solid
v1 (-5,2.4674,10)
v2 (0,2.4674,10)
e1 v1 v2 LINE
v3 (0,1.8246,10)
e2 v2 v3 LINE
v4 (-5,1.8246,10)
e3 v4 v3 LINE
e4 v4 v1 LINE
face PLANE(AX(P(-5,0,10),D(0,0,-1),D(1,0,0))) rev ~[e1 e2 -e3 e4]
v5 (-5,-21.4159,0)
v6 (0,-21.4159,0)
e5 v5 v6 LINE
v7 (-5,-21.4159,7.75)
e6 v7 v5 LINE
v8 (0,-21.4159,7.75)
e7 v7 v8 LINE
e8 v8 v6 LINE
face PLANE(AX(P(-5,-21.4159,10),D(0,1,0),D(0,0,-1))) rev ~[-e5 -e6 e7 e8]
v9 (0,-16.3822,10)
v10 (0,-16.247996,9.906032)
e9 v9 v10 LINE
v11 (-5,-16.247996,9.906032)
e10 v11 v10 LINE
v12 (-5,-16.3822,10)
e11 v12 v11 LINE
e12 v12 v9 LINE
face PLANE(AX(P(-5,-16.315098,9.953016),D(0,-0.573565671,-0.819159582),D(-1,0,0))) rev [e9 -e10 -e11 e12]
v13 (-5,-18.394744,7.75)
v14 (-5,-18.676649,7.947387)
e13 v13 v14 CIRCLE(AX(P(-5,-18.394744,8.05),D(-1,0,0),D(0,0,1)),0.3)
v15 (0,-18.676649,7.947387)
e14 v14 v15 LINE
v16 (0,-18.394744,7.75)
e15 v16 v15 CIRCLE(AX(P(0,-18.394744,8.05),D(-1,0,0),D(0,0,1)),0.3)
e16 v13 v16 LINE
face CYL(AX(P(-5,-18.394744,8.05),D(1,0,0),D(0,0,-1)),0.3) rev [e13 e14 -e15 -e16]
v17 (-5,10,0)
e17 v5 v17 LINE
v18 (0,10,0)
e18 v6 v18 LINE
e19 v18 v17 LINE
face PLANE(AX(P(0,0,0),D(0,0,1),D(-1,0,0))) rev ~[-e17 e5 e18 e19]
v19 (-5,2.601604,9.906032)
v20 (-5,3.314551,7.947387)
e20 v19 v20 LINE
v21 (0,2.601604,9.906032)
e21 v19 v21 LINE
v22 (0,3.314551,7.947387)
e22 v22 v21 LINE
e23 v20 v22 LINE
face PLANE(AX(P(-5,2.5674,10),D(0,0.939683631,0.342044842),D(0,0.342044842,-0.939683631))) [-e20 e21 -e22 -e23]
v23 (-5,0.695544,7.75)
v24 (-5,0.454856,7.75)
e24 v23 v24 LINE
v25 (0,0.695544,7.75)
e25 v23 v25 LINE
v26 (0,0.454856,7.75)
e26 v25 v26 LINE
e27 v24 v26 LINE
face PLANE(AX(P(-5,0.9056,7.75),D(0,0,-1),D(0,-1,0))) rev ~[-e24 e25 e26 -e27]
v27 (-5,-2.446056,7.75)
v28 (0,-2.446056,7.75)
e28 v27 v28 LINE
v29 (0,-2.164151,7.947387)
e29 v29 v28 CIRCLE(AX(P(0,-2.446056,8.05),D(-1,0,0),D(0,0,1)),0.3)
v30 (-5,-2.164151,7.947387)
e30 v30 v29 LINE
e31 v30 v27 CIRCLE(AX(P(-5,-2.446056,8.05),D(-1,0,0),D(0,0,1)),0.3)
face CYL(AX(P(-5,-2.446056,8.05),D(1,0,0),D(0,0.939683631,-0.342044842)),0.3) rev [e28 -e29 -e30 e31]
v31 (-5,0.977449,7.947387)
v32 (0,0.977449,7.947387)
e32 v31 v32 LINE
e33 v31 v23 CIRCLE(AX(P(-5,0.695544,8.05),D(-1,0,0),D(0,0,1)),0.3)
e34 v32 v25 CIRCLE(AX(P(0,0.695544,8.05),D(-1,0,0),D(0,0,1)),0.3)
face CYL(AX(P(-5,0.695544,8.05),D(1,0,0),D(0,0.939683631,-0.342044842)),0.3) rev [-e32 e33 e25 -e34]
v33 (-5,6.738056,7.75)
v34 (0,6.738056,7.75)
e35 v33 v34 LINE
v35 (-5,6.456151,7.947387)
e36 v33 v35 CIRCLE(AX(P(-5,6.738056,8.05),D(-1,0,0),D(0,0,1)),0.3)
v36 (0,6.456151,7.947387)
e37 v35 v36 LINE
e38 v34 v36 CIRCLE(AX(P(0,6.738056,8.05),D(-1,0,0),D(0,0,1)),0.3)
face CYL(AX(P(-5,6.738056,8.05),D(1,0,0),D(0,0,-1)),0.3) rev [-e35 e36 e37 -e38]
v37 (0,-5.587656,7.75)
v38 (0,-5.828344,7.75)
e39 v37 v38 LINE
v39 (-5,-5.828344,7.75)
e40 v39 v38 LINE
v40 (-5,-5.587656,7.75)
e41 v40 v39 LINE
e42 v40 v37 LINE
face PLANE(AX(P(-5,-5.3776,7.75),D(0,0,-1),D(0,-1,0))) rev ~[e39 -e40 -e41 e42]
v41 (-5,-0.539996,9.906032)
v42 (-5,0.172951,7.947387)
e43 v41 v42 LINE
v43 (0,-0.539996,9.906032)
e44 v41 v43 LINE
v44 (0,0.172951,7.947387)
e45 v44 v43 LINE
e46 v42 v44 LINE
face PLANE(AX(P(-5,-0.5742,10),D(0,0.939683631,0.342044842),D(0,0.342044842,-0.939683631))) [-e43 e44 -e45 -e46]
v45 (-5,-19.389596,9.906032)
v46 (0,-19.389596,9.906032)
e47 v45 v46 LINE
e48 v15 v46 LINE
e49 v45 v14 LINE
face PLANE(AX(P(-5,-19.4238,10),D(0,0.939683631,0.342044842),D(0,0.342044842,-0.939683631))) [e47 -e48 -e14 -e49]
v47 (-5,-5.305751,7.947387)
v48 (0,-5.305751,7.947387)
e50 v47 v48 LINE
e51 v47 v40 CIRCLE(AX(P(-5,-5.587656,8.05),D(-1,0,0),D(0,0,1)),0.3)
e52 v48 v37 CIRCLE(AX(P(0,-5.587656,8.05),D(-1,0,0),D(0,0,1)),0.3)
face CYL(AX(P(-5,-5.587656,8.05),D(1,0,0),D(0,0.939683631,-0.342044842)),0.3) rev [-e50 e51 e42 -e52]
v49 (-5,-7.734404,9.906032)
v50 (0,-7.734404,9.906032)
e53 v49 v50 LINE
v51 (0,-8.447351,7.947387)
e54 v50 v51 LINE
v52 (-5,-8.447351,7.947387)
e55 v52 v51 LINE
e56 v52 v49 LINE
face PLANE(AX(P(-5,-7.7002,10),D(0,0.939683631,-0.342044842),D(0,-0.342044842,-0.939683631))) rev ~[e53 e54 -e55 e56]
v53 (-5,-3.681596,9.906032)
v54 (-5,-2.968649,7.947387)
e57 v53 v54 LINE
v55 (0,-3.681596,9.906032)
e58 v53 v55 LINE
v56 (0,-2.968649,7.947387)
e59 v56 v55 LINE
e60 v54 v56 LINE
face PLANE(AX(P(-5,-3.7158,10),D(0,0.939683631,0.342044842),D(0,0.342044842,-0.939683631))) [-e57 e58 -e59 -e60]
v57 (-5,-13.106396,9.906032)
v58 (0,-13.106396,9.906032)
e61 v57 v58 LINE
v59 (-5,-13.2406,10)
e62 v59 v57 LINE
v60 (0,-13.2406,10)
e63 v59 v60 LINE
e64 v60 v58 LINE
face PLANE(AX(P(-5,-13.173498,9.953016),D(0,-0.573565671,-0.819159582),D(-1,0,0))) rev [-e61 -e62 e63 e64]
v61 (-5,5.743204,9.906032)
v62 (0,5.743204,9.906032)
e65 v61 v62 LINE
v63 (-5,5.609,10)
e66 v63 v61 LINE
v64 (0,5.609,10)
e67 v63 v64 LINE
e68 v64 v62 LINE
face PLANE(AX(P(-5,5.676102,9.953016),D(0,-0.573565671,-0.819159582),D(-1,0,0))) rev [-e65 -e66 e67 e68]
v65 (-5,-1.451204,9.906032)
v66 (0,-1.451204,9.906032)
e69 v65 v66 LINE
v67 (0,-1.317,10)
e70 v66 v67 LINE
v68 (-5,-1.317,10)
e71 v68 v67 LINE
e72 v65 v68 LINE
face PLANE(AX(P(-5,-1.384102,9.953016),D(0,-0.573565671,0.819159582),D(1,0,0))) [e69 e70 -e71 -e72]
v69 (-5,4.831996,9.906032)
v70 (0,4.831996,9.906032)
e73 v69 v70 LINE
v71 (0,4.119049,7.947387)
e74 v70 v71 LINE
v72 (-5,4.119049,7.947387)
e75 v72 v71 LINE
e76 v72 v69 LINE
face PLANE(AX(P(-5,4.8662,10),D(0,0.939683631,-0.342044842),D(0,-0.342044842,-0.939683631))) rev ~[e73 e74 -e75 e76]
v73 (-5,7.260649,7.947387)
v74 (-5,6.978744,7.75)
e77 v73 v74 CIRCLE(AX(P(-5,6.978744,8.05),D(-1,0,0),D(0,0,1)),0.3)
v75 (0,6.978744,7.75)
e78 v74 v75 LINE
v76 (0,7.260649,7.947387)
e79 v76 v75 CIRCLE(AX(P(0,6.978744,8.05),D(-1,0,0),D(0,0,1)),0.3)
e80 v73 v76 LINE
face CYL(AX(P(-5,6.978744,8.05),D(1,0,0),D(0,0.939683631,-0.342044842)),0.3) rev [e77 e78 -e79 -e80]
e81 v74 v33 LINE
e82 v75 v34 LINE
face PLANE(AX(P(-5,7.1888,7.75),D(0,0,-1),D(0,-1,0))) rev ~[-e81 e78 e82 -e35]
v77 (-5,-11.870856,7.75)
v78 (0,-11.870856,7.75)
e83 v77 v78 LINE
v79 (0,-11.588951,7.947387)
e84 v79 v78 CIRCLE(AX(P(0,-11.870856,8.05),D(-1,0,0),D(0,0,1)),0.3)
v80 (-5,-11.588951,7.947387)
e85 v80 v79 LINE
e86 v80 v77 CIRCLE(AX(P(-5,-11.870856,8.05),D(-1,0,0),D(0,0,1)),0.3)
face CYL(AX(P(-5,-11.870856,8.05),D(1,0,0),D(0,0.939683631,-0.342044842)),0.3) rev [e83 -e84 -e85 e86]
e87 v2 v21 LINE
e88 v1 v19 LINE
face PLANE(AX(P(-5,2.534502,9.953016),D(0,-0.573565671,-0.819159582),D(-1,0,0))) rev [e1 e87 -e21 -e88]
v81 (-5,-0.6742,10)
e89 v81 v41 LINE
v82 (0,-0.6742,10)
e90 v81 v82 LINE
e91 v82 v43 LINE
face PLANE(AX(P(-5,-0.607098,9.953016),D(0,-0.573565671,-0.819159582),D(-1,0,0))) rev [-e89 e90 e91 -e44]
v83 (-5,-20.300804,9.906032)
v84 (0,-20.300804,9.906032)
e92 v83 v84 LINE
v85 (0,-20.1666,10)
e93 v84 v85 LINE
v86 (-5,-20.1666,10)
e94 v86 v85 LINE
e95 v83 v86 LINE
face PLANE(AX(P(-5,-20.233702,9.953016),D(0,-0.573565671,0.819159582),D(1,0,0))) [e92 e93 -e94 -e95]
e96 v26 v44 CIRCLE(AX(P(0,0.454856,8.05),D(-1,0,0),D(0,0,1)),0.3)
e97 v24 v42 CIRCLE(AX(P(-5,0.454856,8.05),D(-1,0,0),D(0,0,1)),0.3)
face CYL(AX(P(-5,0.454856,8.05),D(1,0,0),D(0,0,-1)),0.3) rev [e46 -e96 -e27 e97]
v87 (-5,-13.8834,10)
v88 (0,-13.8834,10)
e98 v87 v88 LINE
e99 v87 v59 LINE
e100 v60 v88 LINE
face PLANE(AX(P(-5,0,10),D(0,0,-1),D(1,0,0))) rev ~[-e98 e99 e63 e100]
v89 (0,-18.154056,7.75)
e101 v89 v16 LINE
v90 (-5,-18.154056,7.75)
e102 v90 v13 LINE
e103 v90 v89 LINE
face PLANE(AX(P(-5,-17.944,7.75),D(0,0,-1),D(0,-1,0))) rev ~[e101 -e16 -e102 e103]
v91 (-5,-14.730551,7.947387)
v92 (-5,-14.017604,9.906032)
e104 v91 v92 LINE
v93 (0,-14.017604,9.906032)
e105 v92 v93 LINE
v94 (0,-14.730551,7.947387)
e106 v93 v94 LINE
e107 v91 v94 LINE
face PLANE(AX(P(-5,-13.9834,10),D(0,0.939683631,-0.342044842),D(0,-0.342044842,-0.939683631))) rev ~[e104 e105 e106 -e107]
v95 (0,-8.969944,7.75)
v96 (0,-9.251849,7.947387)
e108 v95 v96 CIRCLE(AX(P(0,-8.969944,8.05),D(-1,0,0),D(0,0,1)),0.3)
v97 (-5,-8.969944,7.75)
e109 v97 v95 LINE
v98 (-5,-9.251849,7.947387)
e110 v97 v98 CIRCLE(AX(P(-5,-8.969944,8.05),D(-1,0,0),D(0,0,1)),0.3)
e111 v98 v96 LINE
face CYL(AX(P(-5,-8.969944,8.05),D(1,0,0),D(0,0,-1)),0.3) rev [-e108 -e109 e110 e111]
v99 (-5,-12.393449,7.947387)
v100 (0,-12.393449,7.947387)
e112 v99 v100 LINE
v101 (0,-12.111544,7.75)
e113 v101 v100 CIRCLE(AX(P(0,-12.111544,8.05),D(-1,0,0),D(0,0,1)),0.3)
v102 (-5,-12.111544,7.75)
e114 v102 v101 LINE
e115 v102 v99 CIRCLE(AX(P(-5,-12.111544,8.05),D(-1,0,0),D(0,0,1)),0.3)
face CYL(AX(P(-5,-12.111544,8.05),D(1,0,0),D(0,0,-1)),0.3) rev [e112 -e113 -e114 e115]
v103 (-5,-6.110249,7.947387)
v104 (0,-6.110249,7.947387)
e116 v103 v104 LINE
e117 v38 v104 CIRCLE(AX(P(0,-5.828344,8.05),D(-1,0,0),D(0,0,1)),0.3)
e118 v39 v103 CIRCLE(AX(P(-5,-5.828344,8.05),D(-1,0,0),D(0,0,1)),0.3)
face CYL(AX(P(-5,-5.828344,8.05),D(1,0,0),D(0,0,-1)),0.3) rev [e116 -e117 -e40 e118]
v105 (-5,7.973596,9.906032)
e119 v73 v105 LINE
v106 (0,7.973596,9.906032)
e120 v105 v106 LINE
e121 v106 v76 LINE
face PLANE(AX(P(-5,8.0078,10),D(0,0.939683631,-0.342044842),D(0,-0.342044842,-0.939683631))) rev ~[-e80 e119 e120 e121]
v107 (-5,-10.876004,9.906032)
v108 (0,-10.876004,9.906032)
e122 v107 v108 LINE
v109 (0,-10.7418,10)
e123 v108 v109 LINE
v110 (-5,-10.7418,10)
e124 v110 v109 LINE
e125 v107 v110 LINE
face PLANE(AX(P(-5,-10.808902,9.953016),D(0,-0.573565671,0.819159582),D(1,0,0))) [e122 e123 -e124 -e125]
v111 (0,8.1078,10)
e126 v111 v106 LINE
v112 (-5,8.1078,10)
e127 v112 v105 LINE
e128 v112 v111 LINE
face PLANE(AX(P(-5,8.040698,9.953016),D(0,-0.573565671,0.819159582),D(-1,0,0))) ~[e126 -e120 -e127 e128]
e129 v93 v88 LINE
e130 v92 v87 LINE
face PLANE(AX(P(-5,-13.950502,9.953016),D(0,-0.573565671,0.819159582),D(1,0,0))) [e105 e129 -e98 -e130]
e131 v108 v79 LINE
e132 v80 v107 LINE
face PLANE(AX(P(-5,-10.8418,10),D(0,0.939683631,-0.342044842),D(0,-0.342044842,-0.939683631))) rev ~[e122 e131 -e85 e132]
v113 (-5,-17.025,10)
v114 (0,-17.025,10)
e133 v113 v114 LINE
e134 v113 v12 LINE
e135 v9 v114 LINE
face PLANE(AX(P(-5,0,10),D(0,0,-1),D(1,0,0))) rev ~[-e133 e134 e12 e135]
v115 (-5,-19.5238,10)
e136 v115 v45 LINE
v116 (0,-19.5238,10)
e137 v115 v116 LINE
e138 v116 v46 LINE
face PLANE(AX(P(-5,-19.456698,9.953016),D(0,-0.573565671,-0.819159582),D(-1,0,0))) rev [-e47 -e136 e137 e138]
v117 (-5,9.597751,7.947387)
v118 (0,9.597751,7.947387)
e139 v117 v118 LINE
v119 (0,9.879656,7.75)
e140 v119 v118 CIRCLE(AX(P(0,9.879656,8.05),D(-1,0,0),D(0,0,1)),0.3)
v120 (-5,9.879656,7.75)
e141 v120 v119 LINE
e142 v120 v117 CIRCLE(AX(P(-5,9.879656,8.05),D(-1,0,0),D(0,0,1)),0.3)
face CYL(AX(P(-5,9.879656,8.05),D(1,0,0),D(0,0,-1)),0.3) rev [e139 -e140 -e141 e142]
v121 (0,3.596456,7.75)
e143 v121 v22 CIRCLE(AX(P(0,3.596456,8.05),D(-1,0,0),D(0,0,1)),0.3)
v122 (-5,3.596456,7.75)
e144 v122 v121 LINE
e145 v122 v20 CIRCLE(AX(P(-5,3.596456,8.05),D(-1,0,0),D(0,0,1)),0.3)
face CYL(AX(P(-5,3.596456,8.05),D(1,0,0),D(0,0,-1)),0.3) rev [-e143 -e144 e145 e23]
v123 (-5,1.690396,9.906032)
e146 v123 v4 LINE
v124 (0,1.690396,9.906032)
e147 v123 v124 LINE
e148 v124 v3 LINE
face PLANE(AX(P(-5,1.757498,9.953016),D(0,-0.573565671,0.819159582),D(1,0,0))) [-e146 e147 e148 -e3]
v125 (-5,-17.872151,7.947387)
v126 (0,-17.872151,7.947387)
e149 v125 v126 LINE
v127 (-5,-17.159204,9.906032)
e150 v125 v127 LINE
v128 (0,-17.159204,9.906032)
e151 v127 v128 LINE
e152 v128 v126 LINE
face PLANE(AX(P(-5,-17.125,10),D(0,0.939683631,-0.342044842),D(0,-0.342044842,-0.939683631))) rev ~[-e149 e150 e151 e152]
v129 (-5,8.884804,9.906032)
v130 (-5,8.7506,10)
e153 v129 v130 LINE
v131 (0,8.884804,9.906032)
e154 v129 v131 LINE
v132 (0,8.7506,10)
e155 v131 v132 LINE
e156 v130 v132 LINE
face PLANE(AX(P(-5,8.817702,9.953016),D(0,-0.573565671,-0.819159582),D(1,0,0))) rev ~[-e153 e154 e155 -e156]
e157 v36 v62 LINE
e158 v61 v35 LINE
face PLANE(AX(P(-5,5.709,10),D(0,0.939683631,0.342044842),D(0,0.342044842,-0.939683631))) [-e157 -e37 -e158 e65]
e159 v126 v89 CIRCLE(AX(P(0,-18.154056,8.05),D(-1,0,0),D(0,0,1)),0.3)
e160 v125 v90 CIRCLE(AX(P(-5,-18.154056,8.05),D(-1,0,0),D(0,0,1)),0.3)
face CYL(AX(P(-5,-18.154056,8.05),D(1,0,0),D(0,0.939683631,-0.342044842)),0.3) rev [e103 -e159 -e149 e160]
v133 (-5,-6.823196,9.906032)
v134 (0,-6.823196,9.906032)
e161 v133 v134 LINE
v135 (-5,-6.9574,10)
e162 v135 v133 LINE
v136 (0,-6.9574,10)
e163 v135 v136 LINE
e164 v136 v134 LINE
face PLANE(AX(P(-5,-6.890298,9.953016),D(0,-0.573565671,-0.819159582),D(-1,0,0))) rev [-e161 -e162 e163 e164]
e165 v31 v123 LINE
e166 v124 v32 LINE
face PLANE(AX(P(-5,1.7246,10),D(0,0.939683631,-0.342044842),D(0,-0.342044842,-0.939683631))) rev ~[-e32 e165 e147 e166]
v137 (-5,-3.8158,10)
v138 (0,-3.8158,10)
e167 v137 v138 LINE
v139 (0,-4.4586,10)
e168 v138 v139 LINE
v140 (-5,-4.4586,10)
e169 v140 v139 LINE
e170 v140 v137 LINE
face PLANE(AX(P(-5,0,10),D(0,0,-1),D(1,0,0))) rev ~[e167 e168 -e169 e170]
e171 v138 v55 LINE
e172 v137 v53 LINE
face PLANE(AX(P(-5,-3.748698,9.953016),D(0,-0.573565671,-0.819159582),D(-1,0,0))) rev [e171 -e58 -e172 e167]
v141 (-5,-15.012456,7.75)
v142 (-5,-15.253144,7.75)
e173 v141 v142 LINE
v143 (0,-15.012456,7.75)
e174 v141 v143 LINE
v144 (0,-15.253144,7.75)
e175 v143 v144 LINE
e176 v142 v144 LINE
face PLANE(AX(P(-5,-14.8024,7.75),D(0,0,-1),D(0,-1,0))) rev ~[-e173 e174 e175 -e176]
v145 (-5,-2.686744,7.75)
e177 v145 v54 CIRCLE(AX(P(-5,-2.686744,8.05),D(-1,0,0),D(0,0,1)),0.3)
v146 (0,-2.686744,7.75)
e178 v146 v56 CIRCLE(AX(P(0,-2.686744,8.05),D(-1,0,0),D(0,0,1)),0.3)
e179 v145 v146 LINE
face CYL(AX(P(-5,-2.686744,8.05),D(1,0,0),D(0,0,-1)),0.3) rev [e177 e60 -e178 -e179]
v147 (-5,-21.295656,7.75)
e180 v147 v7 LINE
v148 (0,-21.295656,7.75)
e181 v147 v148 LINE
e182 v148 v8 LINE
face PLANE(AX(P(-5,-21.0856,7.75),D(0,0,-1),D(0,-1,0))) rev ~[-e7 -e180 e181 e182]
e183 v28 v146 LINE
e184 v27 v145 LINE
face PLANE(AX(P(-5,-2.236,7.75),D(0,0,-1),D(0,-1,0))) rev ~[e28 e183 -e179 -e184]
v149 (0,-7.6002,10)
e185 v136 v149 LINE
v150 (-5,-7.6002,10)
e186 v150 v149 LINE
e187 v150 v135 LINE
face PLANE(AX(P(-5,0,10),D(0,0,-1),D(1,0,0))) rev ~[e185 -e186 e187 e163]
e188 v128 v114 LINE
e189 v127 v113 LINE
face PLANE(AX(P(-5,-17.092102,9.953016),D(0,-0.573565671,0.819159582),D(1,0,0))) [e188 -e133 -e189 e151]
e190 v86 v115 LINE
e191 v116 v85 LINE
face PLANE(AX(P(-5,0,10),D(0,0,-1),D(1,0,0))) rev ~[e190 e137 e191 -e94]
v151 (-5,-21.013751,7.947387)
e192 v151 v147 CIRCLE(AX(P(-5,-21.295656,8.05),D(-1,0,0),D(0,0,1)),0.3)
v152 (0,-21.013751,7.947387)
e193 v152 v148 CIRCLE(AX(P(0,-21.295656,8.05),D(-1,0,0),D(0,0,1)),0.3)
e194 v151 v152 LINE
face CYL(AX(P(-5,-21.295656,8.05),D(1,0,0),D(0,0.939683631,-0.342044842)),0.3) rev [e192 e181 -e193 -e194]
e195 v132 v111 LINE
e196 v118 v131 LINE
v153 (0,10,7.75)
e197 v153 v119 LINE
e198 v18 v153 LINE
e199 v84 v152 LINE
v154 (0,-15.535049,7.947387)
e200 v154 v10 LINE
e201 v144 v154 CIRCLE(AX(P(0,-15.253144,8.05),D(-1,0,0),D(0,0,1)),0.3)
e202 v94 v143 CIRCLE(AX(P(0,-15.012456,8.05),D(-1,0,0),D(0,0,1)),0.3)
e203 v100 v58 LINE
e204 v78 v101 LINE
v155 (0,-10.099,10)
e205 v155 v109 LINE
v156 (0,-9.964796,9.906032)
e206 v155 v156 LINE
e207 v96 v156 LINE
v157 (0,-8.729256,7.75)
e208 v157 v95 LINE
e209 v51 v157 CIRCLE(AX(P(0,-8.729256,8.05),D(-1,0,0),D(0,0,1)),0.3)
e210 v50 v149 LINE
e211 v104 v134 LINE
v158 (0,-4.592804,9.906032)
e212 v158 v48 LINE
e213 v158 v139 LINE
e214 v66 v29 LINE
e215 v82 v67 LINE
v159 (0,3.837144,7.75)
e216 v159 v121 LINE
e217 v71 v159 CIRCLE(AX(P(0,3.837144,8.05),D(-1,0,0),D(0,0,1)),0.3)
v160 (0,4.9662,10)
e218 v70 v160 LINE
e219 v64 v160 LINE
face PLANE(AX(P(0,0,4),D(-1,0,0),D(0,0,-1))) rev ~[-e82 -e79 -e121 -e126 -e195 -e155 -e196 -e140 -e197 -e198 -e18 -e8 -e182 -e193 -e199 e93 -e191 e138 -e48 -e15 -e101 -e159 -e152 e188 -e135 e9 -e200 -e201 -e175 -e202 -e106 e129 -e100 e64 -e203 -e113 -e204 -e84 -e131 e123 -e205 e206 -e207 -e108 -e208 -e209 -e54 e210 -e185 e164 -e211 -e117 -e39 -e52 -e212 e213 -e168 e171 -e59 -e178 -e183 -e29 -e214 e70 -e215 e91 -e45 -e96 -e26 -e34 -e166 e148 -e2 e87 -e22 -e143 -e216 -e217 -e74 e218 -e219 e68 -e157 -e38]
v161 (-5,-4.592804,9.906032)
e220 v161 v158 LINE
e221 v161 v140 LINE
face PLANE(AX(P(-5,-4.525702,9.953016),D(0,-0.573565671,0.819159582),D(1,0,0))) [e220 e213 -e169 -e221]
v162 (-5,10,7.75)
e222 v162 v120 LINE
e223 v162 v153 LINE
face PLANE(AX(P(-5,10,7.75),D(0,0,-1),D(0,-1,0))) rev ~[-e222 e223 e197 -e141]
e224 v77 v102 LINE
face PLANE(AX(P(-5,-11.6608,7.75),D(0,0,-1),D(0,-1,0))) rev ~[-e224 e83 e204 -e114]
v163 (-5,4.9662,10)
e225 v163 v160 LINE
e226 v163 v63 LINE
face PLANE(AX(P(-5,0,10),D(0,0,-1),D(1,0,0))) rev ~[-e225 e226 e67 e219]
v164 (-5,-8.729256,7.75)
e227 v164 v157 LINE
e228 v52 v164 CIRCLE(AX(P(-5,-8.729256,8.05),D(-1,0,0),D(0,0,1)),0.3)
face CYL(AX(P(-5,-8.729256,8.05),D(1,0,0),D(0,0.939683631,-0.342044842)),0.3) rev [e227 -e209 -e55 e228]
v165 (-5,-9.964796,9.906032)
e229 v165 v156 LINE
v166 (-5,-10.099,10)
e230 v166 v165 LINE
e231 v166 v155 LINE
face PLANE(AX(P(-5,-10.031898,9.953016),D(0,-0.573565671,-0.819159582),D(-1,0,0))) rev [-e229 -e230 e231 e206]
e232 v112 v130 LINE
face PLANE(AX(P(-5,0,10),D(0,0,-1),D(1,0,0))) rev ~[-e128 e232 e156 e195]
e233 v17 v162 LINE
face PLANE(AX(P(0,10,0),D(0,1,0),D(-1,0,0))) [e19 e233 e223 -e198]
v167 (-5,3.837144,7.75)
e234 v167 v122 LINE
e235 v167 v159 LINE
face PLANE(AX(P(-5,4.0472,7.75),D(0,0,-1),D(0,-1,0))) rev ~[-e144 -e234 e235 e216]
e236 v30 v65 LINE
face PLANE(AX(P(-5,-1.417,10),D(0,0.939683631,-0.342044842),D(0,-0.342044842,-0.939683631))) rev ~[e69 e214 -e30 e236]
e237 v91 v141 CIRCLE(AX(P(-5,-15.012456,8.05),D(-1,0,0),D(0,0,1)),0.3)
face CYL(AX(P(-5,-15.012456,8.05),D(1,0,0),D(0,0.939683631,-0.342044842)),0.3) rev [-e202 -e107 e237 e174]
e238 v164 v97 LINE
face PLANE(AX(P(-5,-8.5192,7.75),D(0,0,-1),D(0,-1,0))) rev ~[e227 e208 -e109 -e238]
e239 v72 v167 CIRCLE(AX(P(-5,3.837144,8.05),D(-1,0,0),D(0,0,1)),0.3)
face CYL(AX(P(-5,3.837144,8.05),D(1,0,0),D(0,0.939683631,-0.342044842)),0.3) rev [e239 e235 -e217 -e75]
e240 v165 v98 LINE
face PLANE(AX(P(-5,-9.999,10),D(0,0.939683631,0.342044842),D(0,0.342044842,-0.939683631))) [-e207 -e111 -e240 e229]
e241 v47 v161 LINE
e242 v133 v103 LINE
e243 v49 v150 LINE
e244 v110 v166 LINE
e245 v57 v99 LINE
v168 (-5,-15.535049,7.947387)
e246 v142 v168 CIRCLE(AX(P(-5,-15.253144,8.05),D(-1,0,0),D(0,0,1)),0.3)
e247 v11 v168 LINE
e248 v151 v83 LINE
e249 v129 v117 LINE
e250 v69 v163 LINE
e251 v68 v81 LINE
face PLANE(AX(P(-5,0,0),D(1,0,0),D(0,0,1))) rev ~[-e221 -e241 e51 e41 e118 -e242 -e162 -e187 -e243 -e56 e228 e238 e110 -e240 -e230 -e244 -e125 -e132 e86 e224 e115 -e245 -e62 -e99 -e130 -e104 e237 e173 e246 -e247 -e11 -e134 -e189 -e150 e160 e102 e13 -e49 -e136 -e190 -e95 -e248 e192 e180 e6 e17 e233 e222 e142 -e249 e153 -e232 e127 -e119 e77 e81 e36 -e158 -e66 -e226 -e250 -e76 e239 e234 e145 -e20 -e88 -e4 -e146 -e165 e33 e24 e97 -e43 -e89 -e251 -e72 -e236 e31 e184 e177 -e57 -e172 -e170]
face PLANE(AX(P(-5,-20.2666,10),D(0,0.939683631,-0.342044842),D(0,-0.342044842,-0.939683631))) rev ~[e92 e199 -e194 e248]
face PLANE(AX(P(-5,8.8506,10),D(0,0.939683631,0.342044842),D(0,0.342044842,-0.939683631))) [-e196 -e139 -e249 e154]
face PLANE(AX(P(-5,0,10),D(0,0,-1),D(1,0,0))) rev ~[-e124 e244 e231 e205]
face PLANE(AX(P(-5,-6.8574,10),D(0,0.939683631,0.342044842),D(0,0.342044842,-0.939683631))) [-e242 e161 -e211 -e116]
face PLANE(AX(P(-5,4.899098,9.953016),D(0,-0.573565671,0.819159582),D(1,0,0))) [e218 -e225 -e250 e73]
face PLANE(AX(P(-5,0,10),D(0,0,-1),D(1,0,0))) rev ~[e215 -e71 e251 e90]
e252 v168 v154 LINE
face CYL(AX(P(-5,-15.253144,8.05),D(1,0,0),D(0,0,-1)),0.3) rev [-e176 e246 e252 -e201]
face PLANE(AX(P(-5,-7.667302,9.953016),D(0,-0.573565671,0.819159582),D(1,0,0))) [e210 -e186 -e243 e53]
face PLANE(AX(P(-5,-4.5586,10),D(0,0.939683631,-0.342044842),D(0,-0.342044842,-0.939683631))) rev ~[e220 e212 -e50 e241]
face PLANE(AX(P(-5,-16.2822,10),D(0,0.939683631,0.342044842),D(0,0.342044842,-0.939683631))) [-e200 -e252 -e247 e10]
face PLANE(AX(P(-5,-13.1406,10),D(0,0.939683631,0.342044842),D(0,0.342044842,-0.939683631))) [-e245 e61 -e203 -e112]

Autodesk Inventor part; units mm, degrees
ref_plane "YZ Plane" through (0, 0, 0) normal (1, 0, 0) x (0, 1, 0)
ref_plane "XZ Plane" through (0, 0, 0) normal (0, 1, 0) x (-1, 0, 0)
ref_plane "XY Plane" through (0, 0, 0) normal (0, 0, 1) x (1, 0, 0)
sketch "スケッチ3" plane through (0, 0, 0) normal (0, 1, 0) x (-1, 0, 0)
  line L0 (0, 0) -> (5, 0)
  line L1 (5, 0) -> (5, 10)
  line L2 (5, 10) -> (0, 10)
  line L3 (0, 10) -> (0, 0)
  line L4 (0, 6) -> (-4, 6)
  line L5 (-4, 6) -> (-4, 4)
  line L6 (-4, 4) -> (0, 4)
  line L7 (0, 4) -> (0, 6)
  line L8 (-4, 25) -> (-39, 25)
  line L9 (-39, 25) -> (-39, -15)
  line L10 (-39, -15) -> (-4, -15)
  line L11 (-4, -15) -> (-4, 25)
  point P0 (0, 5)
  point P1 (0, 4)
  dimension "d5" = 5
  dimension "d6" = 10
  dimension "d7" = 4
  dimension "d8" = 2
  dimension "d9" = 35
  dimension "d10" = 4
  dimension "d11" = 40
  dimension "d12" = 20
extrude "押し出し2" add sketch "スケッチ3" along normal blind 10 and the other way blind 30 contours L3 L2 L1 L0
extrude "押し出し3" [suppressed]
sketch "スケッチ4" plane through (-5, -30, 10) normal (-1, 0, 0) x (0, 0, 1)
  line L0 (0, 38.8506) -> (-2.25, 39.6696)
  line L1 (0, 0) -> (0, 40) projected
  line L2 (0, 38.0078) -> (-2.25, 37.1888)
  line L3 (-10, 40) -> (0, 40) projected
  line L4 (0, 38.4292) -> (-2.25, 38.4292)
  line L5 (0, 40) -> (-10, 40) projected
  line L6 (-1, 40) -> (-1, 36.8584)
  line L7 (-2.25, 40) -> (-2.25, 36.8584)
  line L8 (0, 36.8584) -> (-2.25, 36.8584)
  line L9 (-1, 40) -> (-1, 39.2146)
  line L10 (-1, 39.2146) -> (-1, 38.4292)
  line L11 (-1, 38.4292) -> (-1, 37.6438)
  line L12 (-1, 37.6438) -> (-1, 36.8584)
  point P0 (-10, 30)
  dimension "d21" = 20
  dimension "d23" = 1
  dimension "d24" = 1.25
  dimension "d25" = 1.5708
  dimension "d27" = 1.5708
  dimension "d28" = 20
extrude "押し出し4" cut sketch "スケッチ4" against normal blind 5 contours L0 L6 L3 L1 | L0 L7 L3 L6 | L1 L8 L6 L2 | L6 L8 L7 L2
fillet "フィレット1" radius 0.3 2 edges at (-2.5, 9.6696, 7.75) (-2.5, 7.1888, 7.75)
chamfer "面取り1" distance 0.1 angle 45 2 edges at (-2.5, 8.8506, 10) (-2.5, 8.0078, 10)
pattern_linear "矩形状パターン1" count 10 spacing 3.1416 along (0, -1, 0) of "押し出し4", "フィレット1", "面取り1"
sketch "スケッチ5" plane through (-5, -30, 0) normal (-1, 0, 0) x (0, 0, 1)
  line L0 (10, 8.5841) -> (10, 0) projected
  line L1 (10, 8.5841) -> (0, 8.5841)
  line L2 (0, 8.5841) -> (0, 0)
  line L3 (0, 0) -> (10, 0)
  line L4 (10, 0) -> (10, 8.5841)
  point P0 (0, 30)
extrude "押し出し5" cut sketch "スケッチ5" against normal blind 10
equation "\"d12\" = 0.5 * d11"
equation "\"d23\" = module"
equation "\"d24\" = 1.25 * module"
equation "\"d25\" = 1.5708 * module"
equation "\"d27\" = d25"
equation "\"d28\" = d21"
equation "\"d37\" = 3.14159 * module"
equation "\"module\" = 1"
properties part number "tume"
